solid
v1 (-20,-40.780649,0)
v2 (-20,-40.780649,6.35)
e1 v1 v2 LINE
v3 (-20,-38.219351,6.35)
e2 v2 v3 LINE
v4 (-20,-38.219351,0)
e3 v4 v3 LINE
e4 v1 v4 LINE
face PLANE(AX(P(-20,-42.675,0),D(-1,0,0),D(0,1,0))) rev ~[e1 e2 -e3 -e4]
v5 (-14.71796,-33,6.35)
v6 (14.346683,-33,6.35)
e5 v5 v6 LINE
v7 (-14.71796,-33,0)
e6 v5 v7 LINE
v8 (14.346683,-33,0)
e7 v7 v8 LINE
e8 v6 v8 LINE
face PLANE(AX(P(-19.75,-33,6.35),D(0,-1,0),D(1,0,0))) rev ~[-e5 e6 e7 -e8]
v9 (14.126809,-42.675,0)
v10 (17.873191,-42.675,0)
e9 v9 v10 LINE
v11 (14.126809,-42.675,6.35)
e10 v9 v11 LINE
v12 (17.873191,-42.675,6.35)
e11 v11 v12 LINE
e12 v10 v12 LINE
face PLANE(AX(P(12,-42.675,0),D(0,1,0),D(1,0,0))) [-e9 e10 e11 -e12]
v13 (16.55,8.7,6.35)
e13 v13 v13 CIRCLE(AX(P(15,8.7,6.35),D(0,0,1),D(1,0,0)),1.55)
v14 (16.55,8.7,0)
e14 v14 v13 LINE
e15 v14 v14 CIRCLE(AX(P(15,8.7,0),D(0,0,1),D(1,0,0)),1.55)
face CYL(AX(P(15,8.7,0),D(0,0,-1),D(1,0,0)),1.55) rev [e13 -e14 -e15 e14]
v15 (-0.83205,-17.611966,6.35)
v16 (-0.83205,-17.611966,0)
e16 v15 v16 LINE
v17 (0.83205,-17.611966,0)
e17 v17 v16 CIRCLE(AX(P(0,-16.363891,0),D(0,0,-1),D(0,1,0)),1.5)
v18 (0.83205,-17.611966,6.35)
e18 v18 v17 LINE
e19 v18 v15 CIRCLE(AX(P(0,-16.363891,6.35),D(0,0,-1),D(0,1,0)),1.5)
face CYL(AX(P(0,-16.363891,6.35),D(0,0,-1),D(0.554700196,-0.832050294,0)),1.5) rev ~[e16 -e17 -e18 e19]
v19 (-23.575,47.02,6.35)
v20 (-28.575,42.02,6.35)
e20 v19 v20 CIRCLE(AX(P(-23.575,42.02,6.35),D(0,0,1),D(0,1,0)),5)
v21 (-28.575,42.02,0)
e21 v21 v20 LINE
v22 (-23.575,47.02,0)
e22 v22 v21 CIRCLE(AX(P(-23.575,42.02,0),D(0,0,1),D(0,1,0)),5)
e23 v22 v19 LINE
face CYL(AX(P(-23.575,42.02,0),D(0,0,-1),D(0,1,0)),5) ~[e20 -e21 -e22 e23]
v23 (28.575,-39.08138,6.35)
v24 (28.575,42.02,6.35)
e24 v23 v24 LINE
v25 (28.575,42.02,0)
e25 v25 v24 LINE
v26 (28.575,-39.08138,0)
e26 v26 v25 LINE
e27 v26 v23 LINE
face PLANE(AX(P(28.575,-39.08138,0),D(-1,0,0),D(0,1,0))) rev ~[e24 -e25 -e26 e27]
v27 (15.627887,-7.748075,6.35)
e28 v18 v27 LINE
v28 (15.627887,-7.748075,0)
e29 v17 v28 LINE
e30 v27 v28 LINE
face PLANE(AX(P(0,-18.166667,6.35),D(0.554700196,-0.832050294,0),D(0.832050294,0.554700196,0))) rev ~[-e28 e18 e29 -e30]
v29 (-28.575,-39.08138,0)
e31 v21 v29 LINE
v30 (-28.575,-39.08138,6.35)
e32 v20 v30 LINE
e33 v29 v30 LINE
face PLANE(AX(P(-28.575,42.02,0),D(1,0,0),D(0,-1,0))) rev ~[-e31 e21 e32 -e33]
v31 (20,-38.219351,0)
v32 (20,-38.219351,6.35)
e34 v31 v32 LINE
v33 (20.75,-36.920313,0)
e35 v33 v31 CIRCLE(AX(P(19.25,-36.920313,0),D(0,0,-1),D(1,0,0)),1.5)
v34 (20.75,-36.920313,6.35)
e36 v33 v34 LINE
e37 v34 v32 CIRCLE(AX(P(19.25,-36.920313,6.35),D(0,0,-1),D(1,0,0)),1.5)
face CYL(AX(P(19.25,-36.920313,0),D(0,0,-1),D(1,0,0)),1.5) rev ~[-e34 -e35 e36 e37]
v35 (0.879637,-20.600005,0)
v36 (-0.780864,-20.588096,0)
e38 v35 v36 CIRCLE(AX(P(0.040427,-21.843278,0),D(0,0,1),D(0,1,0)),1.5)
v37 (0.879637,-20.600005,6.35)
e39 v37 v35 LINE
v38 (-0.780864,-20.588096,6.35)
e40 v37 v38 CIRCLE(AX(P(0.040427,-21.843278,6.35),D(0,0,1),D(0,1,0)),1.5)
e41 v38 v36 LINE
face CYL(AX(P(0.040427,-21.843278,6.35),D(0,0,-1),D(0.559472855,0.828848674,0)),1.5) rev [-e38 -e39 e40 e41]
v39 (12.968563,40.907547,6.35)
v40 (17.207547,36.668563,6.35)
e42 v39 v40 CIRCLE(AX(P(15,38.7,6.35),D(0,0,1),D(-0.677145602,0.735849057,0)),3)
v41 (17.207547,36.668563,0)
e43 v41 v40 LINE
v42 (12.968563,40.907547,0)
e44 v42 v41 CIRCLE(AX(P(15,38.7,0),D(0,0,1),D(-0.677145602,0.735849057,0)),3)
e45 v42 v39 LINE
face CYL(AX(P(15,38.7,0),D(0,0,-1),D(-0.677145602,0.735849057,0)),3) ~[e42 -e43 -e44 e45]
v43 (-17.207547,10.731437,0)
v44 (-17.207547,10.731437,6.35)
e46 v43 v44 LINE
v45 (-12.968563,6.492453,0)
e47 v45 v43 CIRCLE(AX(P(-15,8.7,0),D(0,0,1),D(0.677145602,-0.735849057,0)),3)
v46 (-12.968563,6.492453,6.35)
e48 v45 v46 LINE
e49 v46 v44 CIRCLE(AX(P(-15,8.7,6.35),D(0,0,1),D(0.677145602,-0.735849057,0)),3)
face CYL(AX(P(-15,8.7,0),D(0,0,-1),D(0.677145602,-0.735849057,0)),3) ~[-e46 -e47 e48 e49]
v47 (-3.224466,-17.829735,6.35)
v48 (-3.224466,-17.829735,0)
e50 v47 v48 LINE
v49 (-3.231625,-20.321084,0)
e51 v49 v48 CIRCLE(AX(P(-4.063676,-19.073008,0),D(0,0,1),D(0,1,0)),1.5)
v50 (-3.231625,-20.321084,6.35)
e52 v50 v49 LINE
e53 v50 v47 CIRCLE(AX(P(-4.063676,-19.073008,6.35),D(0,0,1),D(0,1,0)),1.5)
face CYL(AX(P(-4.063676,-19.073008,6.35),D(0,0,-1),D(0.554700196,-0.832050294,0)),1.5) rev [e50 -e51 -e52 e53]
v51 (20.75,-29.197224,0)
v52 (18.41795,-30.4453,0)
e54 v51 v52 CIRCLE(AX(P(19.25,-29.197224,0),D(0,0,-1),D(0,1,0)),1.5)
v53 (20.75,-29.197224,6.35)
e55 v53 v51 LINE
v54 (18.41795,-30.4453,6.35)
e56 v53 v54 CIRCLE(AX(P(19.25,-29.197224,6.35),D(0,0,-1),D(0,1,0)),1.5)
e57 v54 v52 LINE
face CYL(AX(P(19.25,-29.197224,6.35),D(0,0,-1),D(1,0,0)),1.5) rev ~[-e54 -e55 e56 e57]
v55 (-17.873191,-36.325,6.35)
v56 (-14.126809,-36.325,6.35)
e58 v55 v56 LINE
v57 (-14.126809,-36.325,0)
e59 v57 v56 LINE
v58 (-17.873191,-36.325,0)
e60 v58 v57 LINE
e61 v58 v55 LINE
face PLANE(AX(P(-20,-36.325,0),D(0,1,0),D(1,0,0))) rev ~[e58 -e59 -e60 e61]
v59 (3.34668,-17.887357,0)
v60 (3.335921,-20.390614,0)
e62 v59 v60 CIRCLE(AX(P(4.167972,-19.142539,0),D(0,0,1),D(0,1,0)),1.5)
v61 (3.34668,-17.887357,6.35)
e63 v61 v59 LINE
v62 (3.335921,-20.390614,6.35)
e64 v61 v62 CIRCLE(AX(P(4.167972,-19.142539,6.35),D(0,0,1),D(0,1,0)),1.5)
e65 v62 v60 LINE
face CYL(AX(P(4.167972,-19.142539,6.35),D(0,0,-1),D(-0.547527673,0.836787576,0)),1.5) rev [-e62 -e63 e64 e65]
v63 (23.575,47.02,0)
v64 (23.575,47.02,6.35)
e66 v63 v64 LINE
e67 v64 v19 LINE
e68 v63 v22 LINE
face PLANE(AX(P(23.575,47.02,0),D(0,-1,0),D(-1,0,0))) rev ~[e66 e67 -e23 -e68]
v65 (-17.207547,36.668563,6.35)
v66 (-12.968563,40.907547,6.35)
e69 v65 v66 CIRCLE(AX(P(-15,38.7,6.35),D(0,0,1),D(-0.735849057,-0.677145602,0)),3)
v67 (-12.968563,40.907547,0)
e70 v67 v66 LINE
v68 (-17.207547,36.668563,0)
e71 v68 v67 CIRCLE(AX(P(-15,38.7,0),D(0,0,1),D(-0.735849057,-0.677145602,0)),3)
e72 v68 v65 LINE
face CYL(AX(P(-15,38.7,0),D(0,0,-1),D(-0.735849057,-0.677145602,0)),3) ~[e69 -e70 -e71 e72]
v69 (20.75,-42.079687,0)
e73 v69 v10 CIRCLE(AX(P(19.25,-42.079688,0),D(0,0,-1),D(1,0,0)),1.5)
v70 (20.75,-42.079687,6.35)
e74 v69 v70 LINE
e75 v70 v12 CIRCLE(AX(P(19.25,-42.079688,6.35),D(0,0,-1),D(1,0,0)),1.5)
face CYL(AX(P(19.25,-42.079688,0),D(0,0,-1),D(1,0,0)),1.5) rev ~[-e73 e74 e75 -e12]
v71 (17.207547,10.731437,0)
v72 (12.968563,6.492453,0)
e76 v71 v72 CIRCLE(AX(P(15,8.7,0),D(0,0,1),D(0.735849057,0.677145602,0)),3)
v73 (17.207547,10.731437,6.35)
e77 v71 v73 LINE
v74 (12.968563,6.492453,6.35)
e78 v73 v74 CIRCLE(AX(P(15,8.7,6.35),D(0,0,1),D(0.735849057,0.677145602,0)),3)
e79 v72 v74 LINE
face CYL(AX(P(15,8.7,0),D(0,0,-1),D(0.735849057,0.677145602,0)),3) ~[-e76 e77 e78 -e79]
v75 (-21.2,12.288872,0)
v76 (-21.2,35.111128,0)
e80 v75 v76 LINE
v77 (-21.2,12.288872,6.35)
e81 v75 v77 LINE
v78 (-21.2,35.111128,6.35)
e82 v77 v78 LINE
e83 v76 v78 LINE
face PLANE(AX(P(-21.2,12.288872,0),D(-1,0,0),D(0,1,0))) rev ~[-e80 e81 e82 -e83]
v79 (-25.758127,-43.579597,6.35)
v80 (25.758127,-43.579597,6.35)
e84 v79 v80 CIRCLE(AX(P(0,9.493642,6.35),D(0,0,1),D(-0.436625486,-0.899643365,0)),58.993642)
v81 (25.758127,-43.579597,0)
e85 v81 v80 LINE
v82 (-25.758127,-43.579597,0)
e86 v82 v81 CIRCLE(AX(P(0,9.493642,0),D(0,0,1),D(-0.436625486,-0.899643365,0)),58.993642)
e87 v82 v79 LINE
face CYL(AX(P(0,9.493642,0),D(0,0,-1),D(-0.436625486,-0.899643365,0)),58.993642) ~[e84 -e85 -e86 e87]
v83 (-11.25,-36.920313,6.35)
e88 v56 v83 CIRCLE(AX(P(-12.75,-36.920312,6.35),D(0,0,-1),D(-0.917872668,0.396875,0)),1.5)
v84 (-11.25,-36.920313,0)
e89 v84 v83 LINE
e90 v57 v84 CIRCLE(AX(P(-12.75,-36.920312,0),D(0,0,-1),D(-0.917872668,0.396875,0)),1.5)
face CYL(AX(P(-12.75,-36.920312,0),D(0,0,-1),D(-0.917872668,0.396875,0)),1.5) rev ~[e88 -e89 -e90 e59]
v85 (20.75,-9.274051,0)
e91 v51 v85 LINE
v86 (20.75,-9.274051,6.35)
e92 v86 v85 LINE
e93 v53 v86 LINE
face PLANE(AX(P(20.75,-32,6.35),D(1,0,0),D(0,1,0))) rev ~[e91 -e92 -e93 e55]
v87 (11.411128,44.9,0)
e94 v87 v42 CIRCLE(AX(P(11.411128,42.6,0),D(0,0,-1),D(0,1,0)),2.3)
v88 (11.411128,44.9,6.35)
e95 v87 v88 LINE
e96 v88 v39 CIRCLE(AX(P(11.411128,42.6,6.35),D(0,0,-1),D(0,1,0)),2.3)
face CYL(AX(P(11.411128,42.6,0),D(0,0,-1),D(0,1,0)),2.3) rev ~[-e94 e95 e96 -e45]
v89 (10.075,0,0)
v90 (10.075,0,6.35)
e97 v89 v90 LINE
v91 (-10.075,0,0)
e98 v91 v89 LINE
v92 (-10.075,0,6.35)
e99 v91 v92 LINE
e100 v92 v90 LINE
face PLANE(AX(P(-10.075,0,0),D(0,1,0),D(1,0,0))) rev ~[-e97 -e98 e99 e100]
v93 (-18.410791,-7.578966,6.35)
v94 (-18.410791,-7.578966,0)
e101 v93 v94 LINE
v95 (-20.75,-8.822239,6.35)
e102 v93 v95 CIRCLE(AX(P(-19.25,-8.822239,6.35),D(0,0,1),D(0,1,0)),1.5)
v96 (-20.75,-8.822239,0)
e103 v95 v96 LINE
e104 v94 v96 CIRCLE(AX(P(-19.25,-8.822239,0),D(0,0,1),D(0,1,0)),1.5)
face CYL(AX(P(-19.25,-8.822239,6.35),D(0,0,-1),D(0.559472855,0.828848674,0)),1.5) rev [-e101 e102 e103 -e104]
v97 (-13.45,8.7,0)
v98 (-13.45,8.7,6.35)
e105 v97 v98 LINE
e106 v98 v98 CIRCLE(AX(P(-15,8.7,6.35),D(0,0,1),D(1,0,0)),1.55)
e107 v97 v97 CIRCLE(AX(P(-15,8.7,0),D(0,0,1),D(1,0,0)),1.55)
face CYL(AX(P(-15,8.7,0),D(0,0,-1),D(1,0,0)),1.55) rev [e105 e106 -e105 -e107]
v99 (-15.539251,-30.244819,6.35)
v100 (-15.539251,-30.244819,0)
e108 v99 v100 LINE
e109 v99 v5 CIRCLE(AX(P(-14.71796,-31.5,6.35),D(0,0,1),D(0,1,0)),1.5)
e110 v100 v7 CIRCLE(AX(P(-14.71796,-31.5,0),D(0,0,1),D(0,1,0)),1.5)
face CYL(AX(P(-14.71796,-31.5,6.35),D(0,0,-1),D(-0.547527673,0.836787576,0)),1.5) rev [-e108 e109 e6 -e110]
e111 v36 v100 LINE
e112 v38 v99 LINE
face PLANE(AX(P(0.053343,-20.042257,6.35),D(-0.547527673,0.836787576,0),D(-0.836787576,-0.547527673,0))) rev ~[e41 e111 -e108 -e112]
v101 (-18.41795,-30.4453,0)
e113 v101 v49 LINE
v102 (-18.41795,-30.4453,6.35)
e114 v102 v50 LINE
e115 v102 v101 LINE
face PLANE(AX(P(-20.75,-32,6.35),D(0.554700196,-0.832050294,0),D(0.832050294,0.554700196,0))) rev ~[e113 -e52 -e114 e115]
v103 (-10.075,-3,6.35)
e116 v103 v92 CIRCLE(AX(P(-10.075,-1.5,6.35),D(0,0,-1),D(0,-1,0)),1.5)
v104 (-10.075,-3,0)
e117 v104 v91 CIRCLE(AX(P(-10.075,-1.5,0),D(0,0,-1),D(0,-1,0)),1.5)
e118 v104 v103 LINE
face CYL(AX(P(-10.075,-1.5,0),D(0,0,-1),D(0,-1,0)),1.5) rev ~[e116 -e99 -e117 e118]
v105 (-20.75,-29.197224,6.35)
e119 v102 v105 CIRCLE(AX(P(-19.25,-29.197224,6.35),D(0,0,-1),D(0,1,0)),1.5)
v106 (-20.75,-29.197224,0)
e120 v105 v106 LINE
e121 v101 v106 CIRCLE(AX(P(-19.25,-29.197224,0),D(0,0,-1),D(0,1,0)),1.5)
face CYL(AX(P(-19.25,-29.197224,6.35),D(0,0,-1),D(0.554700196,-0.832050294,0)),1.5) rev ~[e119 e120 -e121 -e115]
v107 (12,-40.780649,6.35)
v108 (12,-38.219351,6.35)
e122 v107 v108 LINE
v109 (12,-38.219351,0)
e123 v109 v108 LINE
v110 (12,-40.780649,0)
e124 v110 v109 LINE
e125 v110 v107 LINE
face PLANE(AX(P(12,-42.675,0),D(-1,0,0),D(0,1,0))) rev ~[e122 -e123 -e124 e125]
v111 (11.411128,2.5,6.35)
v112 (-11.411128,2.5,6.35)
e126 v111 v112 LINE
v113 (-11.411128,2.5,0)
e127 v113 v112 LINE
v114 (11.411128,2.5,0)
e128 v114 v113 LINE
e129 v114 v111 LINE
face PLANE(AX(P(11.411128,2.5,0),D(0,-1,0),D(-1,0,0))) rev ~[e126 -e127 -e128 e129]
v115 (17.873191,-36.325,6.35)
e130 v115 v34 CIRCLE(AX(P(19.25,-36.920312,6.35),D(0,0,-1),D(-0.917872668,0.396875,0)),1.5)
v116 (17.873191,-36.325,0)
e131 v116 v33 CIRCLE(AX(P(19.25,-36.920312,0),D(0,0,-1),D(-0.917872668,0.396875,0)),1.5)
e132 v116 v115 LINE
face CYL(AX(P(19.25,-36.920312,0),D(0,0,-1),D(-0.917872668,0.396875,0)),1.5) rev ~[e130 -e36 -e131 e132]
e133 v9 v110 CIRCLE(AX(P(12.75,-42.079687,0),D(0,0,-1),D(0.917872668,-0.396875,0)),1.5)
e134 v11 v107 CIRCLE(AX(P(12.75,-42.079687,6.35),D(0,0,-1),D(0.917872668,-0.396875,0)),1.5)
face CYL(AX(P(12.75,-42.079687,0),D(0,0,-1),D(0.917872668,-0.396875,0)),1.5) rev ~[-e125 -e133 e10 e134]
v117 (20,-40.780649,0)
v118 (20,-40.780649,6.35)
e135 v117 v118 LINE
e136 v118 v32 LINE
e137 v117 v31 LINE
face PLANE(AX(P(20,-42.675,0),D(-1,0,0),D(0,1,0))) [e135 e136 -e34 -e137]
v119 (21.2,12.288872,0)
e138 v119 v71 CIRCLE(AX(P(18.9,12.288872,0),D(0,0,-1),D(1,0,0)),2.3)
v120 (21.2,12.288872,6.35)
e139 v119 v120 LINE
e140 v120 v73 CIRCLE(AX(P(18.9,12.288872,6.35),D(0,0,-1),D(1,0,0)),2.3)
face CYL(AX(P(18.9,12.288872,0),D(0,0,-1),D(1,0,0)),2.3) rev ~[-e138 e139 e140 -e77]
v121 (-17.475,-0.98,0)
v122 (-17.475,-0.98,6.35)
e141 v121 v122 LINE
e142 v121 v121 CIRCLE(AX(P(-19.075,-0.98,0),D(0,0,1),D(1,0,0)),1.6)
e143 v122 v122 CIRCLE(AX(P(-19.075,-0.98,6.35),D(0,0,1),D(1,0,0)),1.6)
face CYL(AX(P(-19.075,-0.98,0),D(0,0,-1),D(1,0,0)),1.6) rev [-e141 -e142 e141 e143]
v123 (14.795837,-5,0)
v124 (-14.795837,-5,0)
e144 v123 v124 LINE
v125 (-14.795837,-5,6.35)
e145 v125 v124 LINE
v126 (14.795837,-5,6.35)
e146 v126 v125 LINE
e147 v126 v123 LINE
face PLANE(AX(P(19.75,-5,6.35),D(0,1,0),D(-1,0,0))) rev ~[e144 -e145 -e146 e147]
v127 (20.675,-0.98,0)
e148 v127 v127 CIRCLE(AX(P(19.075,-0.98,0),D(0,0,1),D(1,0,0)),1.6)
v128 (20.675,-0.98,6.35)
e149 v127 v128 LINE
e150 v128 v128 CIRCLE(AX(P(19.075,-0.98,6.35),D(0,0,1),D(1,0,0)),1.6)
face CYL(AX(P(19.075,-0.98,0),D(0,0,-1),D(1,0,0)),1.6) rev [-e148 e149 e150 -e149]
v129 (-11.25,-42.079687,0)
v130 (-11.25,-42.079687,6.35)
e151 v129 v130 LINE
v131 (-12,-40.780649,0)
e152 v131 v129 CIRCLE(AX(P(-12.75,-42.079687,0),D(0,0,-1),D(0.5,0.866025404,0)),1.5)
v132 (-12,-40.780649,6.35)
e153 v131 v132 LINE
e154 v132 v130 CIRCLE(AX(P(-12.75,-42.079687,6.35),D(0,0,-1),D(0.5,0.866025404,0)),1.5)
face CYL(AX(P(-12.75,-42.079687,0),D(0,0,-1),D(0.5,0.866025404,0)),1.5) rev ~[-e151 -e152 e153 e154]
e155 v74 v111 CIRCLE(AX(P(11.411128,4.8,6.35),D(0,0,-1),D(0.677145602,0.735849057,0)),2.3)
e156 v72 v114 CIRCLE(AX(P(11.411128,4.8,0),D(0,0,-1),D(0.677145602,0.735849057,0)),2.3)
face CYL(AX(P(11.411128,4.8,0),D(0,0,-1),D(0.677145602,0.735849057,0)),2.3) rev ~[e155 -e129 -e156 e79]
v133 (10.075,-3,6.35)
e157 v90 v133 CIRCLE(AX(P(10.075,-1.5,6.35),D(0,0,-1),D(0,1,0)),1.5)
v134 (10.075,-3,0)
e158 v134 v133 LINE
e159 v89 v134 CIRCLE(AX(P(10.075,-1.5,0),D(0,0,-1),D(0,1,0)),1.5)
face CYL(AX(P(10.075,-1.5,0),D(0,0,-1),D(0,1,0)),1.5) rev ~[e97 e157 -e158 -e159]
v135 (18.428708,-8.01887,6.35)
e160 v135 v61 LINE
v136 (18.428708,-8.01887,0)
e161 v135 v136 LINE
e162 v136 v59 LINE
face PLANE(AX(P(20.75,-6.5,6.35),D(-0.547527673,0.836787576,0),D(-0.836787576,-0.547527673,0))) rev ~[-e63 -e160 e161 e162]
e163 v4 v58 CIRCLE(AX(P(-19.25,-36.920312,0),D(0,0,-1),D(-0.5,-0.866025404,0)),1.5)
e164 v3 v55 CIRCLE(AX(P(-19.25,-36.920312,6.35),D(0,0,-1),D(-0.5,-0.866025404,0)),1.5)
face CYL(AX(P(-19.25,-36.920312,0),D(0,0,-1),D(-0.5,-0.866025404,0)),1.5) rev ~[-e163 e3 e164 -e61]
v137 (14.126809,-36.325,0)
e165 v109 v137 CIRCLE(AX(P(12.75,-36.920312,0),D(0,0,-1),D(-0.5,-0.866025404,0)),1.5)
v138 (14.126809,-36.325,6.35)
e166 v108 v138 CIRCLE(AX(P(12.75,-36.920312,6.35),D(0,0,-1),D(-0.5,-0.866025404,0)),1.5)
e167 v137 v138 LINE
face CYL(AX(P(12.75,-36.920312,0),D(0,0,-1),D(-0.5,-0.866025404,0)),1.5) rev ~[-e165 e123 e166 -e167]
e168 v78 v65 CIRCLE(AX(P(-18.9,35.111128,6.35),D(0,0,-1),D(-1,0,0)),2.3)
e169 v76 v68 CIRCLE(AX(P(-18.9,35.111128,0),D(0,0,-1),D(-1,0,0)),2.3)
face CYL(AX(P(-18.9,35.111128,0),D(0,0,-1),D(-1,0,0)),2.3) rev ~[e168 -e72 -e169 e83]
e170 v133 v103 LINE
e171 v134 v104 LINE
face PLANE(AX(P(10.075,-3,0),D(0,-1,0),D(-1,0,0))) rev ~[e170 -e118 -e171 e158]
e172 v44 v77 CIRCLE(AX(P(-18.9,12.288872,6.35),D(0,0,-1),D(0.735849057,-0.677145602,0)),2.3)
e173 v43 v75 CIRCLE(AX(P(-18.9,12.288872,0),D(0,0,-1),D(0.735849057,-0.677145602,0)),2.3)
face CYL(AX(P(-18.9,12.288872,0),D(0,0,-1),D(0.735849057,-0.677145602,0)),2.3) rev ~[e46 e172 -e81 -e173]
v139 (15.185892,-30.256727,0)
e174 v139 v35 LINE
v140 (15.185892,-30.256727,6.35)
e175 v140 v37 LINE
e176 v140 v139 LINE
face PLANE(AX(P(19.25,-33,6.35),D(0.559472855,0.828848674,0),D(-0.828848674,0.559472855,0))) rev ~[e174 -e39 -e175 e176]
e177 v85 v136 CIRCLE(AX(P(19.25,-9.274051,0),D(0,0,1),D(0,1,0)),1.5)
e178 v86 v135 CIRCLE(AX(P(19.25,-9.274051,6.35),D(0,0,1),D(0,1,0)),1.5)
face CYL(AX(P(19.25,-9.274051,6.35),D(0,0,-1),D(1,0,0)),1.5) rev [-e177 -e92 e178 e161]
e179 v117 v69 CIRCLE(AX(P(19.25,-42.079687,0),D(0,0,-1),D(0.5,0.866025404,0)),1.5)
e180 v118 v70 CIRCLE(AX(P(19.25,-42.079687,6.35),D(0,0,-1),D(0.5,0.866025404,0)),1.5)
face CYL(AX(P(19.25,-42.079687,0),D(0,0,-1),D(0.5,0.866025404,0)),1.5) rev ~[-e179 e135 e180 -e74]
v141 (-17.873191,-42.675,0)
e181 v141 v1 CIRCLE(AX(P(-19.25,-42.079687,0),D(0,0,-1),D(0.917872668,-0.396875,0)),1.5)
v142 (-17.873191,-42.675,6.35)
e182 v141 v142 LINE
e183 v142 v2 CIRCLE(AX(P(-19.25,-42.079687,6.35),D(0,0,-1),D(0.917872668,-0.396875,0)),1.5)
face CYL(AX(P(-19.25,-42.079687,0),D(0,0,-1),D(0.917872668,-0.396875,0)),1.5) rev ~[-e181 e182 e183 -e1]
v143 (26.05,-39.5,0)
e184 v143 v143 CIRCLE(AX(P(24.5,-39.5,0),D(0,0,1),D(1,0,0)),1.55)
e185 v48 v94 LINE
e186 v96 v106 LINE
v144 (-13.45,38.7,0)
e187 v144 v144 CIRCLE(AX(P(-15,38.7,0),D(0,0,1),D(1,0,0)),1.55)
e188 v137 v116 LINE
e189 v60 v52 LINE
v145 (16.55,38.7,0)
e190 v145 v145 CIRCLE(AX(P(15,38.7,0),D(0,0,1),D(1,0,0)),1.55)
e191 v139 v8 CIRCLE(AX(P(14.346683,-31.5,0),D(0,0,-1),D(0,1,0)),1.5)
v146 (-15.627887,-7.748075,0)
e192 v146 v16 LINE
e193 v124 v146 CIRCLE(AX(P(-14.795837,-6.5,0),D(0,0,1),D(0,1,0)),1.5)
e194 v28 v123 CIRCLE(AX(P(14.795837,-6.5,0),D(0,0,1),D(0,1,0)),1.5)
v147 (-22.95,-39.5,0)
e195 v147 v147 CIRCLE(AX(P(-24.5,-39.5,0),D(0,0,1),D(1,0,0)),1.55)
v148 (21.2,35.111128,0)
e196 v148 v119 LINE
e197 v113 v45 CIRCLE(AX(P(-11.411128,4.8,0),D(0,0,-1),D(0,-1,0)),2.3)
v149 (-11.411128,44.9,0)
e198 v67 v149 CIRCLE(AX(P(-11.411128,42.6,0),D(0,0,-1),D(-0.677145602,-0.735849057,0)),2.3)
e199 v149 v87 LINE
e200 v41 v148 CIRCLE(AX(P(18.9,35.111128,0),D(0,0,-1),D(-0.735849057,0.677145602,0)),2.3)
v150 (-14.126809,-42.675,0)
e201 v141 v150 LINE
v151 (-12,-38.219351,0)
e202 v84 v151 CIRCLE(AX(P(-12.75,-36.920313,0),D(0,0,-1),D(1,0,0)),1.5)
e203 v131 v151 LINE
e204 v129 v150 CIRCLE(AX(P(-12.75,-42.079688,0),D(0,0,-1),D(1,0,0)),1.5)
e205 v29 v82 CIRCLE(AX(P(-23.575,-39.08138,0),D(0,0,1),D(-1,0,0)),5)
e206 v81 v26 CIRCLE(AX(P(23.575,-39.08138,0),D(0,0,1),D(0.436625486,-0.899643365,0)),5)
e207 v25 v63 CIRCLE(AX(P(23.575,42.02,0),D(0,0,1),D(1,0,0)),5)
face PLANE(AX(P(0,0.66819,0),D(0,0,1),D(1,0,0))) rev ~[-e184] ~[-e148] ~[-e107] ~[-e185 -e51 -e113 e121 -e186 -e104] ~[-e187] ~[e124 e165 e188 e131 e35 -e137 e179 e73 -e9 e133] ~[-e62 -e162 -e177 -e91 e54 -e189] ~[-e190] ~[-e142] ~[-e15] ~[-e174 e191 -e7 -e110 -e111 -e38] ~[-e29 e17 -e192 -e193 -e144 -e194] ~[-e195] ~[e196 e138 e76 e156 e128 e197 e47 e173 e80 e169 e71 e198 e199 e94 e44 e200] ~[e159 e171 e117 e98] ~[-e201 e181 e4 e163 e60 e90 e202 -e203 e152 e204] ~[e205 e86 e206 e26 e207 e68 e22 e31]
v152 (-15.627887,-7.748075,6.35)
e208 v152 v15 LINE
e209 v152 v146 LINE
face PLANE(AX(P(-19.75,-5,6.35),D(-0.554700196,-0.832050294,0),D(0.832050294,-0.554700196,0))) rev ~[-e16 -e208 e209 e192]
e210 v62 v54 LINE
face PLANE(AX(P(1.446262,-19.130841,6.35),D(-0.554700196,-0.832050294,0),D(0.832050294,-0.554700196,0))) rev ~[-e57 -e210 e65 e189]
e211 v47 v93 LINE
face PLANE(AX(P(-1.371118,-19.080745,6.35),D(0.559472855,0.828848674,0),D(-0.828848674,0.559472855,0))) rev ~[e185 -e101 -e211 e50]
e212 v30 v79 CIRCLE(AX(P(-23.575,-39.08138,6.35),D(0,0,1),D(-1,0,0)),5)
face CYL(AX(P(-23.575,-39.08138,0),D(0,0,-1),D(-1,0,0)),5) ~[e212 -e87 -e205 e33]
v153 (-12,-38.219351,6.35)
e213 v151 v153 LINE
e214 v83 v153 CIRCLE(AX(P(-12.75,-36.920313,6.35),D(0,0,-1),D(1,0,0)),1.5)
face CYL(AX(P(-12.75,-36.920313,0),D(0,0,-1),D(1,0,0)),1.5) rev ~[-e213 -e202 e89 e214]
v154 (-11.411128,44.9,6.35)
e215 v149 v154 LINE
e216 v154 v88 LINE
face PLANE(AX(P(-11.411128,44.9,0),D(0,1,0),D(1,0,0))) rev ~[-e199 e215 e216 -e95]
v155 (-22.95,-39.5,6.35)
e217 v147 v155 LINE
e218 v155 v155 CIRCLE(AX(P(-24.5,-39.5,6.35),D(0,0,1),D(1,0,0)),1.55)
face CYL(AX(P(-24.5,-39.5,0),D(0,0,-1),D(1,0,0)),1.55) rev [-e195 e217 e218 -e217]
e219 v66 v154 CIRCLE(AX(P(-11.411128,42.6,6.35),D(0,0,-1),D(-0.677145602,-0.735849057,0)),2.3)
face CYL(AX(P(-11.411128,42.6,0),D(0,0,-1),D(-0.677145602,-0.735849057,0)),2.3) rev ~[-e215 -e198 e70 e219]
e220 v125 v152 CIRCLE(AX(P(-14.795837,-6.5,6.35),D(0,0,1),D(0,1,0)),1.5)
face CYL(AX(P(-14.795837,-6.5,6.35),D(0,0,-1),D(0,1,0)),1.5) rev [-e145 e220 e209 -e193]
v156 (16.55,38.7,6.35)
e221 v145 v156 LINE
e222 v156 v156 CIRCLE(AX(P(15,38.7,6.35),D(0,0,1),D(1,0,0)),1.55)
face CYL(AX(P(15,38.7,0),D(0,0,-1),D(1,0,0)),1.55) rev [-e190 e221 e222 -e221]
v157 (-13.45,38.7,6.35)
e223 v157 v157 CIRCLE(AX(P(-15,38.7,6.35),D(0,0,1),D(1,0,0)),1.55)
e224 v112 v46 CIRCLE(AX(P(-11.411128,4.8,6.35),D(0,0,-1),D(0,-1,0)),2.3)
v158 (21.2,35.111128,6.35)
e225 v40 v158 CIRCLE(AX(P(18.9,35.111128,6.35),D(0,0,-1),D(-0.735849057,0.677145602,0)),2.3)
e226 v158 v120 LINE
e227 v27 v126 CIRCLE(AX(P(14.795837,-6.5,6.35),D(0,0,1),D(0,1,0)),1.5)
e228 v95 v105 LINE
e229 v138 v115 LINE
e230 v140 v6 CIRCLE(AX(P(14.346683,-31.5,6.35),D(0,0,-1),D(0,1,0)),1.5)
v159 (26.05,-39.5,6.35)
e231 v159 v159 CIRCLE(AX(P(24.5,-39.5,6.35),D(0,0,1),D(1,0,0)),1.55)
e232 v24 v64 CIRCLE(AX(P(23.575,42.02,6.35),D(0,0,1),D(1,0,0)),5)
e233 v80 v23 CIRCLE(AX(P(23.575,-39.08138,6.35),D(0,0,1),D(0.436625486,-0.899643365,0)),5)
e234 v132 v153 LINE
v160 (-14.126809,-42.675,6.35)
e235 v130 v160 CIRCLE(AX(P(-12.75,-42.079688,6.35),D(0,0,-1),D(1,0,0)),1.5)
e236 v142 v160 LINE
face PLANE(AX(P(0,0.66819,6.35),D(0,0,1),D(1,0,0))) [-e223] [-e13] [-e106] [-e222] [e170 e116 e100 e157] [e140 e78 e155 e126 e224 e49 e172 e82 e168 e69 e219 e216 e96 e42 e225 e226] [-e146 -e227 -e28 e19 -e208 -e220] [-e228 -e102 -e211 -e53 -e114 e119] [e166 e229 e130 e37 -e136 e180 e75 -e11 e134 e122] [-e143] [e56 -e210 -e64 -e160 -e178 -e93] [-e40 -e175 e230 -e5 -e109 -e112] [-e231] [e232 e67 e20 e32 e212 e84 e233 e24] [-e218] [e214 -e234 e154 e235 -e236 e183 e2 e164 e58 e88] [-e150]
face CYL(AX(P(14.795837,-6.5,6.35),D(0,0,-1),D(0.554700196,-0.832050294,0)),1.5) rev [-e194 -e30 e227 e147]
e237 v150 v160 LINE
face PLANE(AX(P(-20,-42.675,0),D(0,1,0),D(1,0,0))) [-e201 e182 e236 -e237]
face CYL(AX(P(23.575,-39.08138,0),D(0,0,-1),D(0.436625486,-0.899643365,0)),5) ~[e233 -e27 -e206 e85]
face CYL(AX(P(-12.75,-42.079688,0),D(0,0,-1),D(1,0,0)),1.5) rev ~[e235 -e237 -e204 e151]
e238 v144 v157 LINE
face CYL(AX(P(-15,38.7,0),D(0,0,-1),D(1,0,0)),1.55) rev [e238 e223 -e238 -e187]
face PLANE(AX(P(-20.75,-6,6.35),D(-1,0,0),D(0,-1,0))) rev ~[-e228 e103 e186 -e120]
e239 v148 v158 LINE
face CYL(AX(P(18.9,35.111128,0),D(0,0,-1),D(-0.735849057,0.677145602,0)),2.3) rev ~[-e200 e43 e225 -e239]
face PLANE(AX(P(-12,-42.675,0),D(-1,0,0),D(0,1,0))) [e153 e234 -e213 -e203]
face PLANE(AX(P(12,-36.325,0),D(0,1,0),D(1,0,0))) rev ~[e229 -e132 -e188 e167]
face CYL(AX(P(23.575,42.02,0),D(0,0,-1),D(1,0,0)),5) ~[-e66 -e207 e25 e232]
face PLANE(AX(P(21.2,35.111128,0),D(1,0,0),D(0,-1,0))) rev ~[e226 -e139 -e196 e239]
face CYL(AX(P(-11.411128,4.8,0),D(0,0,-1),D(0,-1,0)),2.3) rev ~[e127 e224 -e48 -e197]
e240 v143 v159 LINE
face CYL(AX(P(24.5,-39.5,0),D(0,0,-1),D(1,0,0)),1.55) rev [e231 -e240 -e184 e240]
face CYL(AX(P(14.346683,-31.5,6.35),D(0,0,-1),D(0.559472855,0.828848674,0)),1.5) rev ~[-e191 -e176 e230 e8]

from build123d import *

# Parameters (mm, degrees)
F0_R     = 1.55
F0_W     = 8
F0_H     = 6.35
F0_R_2   = 1.6
F1_DEPTH = 6.35
F3_DEPTH = 25
F4_R     = 1.5
F6_DEPTH = 25


with BuildPart() as f1:
    # F0 (on Top) → F1 (new body)
    with BuildSketch(Plane.XY):
        with BuildLine():
            ThreePointArc((28.575, 42.02), (27.1105339059, 45.5555339059), (23.575, 47.02))
            Line((23.575, 47.02), (-23.575, 47.02))
            ThreePointArc((-23.575, 47.02), (-27.1105339059, 45.5555339059), (-28.575, 42.02))
            Line((-28.575, 42.02), (-28.575, -39.0813798373))
            ThreePointArc((-28.575, -39.0813798373), (-27.8126666433, -41.7350907147), (-25.7581274318, -43.5795966636))
            ThreePointArc((-25.7581274318, -43.5795966636), (0, -49.5), (25.7581274318, -43.5795966636))
            ThreePointArc((25.7581274318, -43.5795966636), (27.8126666433, -41.7350907147), (28.575, -39.0813798373))
            Line((28.575, -39.0813798373), (28.575, 42.02))
        make_face()
        with Locations((-24.5, -39.5)):
            Circle(F0_R, mode=Mode.SUBTRACT)
        with Locations((-16, -39.5)):
            Rectangle(F0_W, F0_H, mode=Mode.SUBTRACT)
        with Locations((16, -39.5)):
            Rectangle(F0_W, F0_H, mode=Mode.SUBTRACT)
        with Locations((24.5, -39.5)):
            Circle(F0_R, mode=Mode.SUBTRACT)
        with BuildLine():
            ThreePointArc((10.075, 0), (11.575, -1.5), (10.075, -3))
            Line((10.075, -3), (0, -3))
            Line((0, -3), (-10.075, -3))
            ThreePointArc((-10.075, -3), (-11.575, -1.5), (-10.075, 0))
            Line((-10.075, 0), (0, 0))
            Line((0, 0), (10.075, 0))
        make_face(mode=Mode.SUBTRACT)
        with Locations((-19.075, -0.98)):
            Circle(F0_R_2, mode=Mode.SUBTRACT)
        with Locations((-15, 8.7)):
            Circle(F0_R, mode=Mode.SUBTRACT)
        with Locations((-15, 38.7)):
            Circle(F0_R, mode=Mode.SUBTRACT)
        with Locations((19.075, -0.98)):
            Circle(F0_R_2, mode=Mode.SUBTRACT)
        with Locations((15, 8.7)):
            Circle(F0_R, mode=Mode.SUBTRACT)
        with BuildLine():
            Line((-11.411128311, 44.9), (0, 44.9))
            Line((0, 44.9), (11.411128311, 44.9))
            ThreePointArc((11.411128311, 44.9), (13.5538650552, 43.435870352), (12.9685631949, 40.9075471698))
            ThreePointArc((12.9685631949, 40.9075471698), (12.8786796564, 36.5786796564), (17.2075471698, 36.6685631949))
            ThreePointArc((17.2075471698, 36.6685631949), (19.735870352, 37.2538650552), (21.2, 35.111128311))
            Line((21.2, 35.111128311), (21.2, 23.7))
            Line((21.2, 23.7), (21.2, 12.288871689))
            ThreePointArc((21.2, 12.288871689), (19.735870352, 10.1461349448), (17.2075471698, 10.7314368051))
            ThreePointArc((17.2075471698, 10.7314368051), (12.8786796564, 10.8213203436), (12.9685631949, 6.4924528302))
            ThreePointArc((12.9685631949, 6.4924528302), (13.5538650552, 3.964129648), (11.411128311, 2.5))
            Line((11.411128311, 2.5), (0, 2.5))
            Line((0, 2.5), (-11.411128311, 2.5))
            ThreePointArc((-11.411128311, 2.5), (-13.5538650552, 3.964129648), (-12.9685631949, 6.4924528302))
            ThreePointArc((-12.9685631949, 6.4924528302), (-12.8786796564, 10.8213203436), (-17.2075471698, 10.7314368051))
            ThreePointArc((-17.2075471698, 10.7314368051), (-19.735870352, 10.1461349448), (-21.2, 12.288871689))
            Line((-21.2, 12.288871689), (-21.2, 23.7))
            Line((-21.2, 23.7), (-21.2, 35.111128311))
            ThreePointArc((-21.2, 35.111128311), (-19.735870352, 37.2538650552), (-17.2075471698, 36.6685631949))
            ThreePointArc((-17.2075471698, 36.6685631949), (-12.8786796564, 36.5786796564), (-12.9685631949, 40.9075471698))
            ThreePointArc((-12.9685631949, 40.9075471698), (-13.5538650552, 43.435870352), (-11.411128311, 44.9))
        make_face(mode=Mode.SUBTRACT)
        with Locations((15, 38.7)):
            Circle(F0_R, mode=Mode.SUBTRACT)
    extrude(amount=F1_DEPTH)

    # F2 (on face) → F3 (cut)
    with BuildSketch(Plane.XY.offset(6.35)):
        Polygon((-20.75, -32), (-1.3711180124, -19.0807453416), (-20.75, -6), align=None)
        Polygon((0, -18.1666666667), (19.75, -5), (-19.75, -5), align=None)
        Polygon((20.75, -32), (20.75, -6.5), (1.4462616822, -19.1308411215), align=None)
        Polygon((19.25, -33), (0.0533433945, -20.0422567913), (-19.75, -33), align=None)
    extrude(amount=-F3_DEPTH, mode=Mode.SUBTRACT)

    # F4
    f4_edges = [f1.edges().sort_by_distance(p)[0] for p in [
        (-20.75, -6, 3.175),
        (-20.75, -32, 3.175),
        (-19.75, -5, 3.175),
        (19.75, -5, 3.175),
        (20.75, -6.5, 3.175),
        (20.75, -32, 3.175),
        (19.25, -33, 3.175),
        (-19.75, -33, 3.175),
        (0.053343, -20.042257, 3.175),
        (1.446262, -19.130841, 3.175),
        (0, -18.166667, 3.175),
        (-1.371118, -19.080745, 3.175),
    ]]
    fillet(f4_edges, radius=F4_R)

    # F5 (on face) → F6 (cut)
    with BuildSketch(Plane(origin=(0, 0, 0), x_dir=(1, 0, 0), z_dir=(0, 0, -1))):
        with BuildLine():
            Line((-12, 36.325), (-14.1268090018, 36.325))
            ThreePointArc((-14.1268090018, 36.325), (-12.4460374222, 35.4514330797), (-11.25, 36.9203125))
            ThreePointArc((-11.25, 36.9203125), (-11.4509618943, 37.6703125), (-12, 38.2193506057))
            Line((-12, 38.2193506057), (-12, 36.325))
        make_face()
        with BuildLine():
            ThreePointArc((-11.25, 42.0796875), (-12.4460374222, 43.5485669203), (-14.1268090018, 42.675))
            Line((-14.1268090018, 42.675), (-12, 42.675))
            Line((-12, 42.675), (-12, 40.7806493943))
            ThreePointArc((-12, 40.7806493943), (-11.4509618943, 41.3296875), (-11.25, 42.0796875))
        make_face()
        with BuildLine():
            ThreePointArc((-17.8731909982, 42.675), (-20.2476790243, 43.1997931042), (-20, 40.7806493943))
            Line((-20, 40.7806493943), (-20, 42.675))
            Line((-20, 42.675), (-17.8731909982, 42.675))
        make_face()
        with BuildLine():
            Line((-20, 36.325), (-20, 38.2193506057))
            ThreePointArc((-20, 38.2193506057), (-20.2476790243, 35.8002068958), (-17.8731909982, 36.325))
            Line((-17.8731909982, 36.325), (-20, 36.325))
        make_face()
        with BuildLine():
            Line((12, 36.325), (12, 38.2193506057))
            ThreePointArc((12, 38.2193506057), (11.7523209757, 35.8002068958), (14.1268090018, 36.325))
            Line((14.1268090018, 36.325), (12, 36.325))
        make_face()
        with BuildLine():
            ThreePointArc((14.1268090018, 42.675), (11.7523209757, 43.1997931042), (12, 40.7806493943))
            Line((12, 40.7806493943), (12, 42.675))
            Line((12, 42.675), (14.1268090018, 42.675))
        make_face()
        with BuildLine():
            ThreePointArc((20.75, 42.0796875), (19.5539625778, 43.5485669203), (17.8731909982, 42.675))
            Line((17.8731909982, 42.675), (20, 42.675))
            Line((20, 42.675), (20, 40.7806493943))
            ThreePointArc((20, 40.7806493943), (20.5490381057, 41.3296875), (20.75, 42.0796875))
        make_face()
        with BuildLine():
            Line((20, 36.325), (17.8731909982, 36.325))
            ThreePointArc((17.8731909982, 36.325), (19.5539625778, 35.4514330797), (20.75, 36.9203125))
            ThreePointArc((20.75, 36.9203125), (20.5490381057, 37.6703125), (20, 38.2193506057))
            Line((20, 38.2193506057), (20, 36.325))
        make_face()
    extrude(amount=-F6_DEPTH, mode=Mode.SUBTRACT)


solid = f1.part
